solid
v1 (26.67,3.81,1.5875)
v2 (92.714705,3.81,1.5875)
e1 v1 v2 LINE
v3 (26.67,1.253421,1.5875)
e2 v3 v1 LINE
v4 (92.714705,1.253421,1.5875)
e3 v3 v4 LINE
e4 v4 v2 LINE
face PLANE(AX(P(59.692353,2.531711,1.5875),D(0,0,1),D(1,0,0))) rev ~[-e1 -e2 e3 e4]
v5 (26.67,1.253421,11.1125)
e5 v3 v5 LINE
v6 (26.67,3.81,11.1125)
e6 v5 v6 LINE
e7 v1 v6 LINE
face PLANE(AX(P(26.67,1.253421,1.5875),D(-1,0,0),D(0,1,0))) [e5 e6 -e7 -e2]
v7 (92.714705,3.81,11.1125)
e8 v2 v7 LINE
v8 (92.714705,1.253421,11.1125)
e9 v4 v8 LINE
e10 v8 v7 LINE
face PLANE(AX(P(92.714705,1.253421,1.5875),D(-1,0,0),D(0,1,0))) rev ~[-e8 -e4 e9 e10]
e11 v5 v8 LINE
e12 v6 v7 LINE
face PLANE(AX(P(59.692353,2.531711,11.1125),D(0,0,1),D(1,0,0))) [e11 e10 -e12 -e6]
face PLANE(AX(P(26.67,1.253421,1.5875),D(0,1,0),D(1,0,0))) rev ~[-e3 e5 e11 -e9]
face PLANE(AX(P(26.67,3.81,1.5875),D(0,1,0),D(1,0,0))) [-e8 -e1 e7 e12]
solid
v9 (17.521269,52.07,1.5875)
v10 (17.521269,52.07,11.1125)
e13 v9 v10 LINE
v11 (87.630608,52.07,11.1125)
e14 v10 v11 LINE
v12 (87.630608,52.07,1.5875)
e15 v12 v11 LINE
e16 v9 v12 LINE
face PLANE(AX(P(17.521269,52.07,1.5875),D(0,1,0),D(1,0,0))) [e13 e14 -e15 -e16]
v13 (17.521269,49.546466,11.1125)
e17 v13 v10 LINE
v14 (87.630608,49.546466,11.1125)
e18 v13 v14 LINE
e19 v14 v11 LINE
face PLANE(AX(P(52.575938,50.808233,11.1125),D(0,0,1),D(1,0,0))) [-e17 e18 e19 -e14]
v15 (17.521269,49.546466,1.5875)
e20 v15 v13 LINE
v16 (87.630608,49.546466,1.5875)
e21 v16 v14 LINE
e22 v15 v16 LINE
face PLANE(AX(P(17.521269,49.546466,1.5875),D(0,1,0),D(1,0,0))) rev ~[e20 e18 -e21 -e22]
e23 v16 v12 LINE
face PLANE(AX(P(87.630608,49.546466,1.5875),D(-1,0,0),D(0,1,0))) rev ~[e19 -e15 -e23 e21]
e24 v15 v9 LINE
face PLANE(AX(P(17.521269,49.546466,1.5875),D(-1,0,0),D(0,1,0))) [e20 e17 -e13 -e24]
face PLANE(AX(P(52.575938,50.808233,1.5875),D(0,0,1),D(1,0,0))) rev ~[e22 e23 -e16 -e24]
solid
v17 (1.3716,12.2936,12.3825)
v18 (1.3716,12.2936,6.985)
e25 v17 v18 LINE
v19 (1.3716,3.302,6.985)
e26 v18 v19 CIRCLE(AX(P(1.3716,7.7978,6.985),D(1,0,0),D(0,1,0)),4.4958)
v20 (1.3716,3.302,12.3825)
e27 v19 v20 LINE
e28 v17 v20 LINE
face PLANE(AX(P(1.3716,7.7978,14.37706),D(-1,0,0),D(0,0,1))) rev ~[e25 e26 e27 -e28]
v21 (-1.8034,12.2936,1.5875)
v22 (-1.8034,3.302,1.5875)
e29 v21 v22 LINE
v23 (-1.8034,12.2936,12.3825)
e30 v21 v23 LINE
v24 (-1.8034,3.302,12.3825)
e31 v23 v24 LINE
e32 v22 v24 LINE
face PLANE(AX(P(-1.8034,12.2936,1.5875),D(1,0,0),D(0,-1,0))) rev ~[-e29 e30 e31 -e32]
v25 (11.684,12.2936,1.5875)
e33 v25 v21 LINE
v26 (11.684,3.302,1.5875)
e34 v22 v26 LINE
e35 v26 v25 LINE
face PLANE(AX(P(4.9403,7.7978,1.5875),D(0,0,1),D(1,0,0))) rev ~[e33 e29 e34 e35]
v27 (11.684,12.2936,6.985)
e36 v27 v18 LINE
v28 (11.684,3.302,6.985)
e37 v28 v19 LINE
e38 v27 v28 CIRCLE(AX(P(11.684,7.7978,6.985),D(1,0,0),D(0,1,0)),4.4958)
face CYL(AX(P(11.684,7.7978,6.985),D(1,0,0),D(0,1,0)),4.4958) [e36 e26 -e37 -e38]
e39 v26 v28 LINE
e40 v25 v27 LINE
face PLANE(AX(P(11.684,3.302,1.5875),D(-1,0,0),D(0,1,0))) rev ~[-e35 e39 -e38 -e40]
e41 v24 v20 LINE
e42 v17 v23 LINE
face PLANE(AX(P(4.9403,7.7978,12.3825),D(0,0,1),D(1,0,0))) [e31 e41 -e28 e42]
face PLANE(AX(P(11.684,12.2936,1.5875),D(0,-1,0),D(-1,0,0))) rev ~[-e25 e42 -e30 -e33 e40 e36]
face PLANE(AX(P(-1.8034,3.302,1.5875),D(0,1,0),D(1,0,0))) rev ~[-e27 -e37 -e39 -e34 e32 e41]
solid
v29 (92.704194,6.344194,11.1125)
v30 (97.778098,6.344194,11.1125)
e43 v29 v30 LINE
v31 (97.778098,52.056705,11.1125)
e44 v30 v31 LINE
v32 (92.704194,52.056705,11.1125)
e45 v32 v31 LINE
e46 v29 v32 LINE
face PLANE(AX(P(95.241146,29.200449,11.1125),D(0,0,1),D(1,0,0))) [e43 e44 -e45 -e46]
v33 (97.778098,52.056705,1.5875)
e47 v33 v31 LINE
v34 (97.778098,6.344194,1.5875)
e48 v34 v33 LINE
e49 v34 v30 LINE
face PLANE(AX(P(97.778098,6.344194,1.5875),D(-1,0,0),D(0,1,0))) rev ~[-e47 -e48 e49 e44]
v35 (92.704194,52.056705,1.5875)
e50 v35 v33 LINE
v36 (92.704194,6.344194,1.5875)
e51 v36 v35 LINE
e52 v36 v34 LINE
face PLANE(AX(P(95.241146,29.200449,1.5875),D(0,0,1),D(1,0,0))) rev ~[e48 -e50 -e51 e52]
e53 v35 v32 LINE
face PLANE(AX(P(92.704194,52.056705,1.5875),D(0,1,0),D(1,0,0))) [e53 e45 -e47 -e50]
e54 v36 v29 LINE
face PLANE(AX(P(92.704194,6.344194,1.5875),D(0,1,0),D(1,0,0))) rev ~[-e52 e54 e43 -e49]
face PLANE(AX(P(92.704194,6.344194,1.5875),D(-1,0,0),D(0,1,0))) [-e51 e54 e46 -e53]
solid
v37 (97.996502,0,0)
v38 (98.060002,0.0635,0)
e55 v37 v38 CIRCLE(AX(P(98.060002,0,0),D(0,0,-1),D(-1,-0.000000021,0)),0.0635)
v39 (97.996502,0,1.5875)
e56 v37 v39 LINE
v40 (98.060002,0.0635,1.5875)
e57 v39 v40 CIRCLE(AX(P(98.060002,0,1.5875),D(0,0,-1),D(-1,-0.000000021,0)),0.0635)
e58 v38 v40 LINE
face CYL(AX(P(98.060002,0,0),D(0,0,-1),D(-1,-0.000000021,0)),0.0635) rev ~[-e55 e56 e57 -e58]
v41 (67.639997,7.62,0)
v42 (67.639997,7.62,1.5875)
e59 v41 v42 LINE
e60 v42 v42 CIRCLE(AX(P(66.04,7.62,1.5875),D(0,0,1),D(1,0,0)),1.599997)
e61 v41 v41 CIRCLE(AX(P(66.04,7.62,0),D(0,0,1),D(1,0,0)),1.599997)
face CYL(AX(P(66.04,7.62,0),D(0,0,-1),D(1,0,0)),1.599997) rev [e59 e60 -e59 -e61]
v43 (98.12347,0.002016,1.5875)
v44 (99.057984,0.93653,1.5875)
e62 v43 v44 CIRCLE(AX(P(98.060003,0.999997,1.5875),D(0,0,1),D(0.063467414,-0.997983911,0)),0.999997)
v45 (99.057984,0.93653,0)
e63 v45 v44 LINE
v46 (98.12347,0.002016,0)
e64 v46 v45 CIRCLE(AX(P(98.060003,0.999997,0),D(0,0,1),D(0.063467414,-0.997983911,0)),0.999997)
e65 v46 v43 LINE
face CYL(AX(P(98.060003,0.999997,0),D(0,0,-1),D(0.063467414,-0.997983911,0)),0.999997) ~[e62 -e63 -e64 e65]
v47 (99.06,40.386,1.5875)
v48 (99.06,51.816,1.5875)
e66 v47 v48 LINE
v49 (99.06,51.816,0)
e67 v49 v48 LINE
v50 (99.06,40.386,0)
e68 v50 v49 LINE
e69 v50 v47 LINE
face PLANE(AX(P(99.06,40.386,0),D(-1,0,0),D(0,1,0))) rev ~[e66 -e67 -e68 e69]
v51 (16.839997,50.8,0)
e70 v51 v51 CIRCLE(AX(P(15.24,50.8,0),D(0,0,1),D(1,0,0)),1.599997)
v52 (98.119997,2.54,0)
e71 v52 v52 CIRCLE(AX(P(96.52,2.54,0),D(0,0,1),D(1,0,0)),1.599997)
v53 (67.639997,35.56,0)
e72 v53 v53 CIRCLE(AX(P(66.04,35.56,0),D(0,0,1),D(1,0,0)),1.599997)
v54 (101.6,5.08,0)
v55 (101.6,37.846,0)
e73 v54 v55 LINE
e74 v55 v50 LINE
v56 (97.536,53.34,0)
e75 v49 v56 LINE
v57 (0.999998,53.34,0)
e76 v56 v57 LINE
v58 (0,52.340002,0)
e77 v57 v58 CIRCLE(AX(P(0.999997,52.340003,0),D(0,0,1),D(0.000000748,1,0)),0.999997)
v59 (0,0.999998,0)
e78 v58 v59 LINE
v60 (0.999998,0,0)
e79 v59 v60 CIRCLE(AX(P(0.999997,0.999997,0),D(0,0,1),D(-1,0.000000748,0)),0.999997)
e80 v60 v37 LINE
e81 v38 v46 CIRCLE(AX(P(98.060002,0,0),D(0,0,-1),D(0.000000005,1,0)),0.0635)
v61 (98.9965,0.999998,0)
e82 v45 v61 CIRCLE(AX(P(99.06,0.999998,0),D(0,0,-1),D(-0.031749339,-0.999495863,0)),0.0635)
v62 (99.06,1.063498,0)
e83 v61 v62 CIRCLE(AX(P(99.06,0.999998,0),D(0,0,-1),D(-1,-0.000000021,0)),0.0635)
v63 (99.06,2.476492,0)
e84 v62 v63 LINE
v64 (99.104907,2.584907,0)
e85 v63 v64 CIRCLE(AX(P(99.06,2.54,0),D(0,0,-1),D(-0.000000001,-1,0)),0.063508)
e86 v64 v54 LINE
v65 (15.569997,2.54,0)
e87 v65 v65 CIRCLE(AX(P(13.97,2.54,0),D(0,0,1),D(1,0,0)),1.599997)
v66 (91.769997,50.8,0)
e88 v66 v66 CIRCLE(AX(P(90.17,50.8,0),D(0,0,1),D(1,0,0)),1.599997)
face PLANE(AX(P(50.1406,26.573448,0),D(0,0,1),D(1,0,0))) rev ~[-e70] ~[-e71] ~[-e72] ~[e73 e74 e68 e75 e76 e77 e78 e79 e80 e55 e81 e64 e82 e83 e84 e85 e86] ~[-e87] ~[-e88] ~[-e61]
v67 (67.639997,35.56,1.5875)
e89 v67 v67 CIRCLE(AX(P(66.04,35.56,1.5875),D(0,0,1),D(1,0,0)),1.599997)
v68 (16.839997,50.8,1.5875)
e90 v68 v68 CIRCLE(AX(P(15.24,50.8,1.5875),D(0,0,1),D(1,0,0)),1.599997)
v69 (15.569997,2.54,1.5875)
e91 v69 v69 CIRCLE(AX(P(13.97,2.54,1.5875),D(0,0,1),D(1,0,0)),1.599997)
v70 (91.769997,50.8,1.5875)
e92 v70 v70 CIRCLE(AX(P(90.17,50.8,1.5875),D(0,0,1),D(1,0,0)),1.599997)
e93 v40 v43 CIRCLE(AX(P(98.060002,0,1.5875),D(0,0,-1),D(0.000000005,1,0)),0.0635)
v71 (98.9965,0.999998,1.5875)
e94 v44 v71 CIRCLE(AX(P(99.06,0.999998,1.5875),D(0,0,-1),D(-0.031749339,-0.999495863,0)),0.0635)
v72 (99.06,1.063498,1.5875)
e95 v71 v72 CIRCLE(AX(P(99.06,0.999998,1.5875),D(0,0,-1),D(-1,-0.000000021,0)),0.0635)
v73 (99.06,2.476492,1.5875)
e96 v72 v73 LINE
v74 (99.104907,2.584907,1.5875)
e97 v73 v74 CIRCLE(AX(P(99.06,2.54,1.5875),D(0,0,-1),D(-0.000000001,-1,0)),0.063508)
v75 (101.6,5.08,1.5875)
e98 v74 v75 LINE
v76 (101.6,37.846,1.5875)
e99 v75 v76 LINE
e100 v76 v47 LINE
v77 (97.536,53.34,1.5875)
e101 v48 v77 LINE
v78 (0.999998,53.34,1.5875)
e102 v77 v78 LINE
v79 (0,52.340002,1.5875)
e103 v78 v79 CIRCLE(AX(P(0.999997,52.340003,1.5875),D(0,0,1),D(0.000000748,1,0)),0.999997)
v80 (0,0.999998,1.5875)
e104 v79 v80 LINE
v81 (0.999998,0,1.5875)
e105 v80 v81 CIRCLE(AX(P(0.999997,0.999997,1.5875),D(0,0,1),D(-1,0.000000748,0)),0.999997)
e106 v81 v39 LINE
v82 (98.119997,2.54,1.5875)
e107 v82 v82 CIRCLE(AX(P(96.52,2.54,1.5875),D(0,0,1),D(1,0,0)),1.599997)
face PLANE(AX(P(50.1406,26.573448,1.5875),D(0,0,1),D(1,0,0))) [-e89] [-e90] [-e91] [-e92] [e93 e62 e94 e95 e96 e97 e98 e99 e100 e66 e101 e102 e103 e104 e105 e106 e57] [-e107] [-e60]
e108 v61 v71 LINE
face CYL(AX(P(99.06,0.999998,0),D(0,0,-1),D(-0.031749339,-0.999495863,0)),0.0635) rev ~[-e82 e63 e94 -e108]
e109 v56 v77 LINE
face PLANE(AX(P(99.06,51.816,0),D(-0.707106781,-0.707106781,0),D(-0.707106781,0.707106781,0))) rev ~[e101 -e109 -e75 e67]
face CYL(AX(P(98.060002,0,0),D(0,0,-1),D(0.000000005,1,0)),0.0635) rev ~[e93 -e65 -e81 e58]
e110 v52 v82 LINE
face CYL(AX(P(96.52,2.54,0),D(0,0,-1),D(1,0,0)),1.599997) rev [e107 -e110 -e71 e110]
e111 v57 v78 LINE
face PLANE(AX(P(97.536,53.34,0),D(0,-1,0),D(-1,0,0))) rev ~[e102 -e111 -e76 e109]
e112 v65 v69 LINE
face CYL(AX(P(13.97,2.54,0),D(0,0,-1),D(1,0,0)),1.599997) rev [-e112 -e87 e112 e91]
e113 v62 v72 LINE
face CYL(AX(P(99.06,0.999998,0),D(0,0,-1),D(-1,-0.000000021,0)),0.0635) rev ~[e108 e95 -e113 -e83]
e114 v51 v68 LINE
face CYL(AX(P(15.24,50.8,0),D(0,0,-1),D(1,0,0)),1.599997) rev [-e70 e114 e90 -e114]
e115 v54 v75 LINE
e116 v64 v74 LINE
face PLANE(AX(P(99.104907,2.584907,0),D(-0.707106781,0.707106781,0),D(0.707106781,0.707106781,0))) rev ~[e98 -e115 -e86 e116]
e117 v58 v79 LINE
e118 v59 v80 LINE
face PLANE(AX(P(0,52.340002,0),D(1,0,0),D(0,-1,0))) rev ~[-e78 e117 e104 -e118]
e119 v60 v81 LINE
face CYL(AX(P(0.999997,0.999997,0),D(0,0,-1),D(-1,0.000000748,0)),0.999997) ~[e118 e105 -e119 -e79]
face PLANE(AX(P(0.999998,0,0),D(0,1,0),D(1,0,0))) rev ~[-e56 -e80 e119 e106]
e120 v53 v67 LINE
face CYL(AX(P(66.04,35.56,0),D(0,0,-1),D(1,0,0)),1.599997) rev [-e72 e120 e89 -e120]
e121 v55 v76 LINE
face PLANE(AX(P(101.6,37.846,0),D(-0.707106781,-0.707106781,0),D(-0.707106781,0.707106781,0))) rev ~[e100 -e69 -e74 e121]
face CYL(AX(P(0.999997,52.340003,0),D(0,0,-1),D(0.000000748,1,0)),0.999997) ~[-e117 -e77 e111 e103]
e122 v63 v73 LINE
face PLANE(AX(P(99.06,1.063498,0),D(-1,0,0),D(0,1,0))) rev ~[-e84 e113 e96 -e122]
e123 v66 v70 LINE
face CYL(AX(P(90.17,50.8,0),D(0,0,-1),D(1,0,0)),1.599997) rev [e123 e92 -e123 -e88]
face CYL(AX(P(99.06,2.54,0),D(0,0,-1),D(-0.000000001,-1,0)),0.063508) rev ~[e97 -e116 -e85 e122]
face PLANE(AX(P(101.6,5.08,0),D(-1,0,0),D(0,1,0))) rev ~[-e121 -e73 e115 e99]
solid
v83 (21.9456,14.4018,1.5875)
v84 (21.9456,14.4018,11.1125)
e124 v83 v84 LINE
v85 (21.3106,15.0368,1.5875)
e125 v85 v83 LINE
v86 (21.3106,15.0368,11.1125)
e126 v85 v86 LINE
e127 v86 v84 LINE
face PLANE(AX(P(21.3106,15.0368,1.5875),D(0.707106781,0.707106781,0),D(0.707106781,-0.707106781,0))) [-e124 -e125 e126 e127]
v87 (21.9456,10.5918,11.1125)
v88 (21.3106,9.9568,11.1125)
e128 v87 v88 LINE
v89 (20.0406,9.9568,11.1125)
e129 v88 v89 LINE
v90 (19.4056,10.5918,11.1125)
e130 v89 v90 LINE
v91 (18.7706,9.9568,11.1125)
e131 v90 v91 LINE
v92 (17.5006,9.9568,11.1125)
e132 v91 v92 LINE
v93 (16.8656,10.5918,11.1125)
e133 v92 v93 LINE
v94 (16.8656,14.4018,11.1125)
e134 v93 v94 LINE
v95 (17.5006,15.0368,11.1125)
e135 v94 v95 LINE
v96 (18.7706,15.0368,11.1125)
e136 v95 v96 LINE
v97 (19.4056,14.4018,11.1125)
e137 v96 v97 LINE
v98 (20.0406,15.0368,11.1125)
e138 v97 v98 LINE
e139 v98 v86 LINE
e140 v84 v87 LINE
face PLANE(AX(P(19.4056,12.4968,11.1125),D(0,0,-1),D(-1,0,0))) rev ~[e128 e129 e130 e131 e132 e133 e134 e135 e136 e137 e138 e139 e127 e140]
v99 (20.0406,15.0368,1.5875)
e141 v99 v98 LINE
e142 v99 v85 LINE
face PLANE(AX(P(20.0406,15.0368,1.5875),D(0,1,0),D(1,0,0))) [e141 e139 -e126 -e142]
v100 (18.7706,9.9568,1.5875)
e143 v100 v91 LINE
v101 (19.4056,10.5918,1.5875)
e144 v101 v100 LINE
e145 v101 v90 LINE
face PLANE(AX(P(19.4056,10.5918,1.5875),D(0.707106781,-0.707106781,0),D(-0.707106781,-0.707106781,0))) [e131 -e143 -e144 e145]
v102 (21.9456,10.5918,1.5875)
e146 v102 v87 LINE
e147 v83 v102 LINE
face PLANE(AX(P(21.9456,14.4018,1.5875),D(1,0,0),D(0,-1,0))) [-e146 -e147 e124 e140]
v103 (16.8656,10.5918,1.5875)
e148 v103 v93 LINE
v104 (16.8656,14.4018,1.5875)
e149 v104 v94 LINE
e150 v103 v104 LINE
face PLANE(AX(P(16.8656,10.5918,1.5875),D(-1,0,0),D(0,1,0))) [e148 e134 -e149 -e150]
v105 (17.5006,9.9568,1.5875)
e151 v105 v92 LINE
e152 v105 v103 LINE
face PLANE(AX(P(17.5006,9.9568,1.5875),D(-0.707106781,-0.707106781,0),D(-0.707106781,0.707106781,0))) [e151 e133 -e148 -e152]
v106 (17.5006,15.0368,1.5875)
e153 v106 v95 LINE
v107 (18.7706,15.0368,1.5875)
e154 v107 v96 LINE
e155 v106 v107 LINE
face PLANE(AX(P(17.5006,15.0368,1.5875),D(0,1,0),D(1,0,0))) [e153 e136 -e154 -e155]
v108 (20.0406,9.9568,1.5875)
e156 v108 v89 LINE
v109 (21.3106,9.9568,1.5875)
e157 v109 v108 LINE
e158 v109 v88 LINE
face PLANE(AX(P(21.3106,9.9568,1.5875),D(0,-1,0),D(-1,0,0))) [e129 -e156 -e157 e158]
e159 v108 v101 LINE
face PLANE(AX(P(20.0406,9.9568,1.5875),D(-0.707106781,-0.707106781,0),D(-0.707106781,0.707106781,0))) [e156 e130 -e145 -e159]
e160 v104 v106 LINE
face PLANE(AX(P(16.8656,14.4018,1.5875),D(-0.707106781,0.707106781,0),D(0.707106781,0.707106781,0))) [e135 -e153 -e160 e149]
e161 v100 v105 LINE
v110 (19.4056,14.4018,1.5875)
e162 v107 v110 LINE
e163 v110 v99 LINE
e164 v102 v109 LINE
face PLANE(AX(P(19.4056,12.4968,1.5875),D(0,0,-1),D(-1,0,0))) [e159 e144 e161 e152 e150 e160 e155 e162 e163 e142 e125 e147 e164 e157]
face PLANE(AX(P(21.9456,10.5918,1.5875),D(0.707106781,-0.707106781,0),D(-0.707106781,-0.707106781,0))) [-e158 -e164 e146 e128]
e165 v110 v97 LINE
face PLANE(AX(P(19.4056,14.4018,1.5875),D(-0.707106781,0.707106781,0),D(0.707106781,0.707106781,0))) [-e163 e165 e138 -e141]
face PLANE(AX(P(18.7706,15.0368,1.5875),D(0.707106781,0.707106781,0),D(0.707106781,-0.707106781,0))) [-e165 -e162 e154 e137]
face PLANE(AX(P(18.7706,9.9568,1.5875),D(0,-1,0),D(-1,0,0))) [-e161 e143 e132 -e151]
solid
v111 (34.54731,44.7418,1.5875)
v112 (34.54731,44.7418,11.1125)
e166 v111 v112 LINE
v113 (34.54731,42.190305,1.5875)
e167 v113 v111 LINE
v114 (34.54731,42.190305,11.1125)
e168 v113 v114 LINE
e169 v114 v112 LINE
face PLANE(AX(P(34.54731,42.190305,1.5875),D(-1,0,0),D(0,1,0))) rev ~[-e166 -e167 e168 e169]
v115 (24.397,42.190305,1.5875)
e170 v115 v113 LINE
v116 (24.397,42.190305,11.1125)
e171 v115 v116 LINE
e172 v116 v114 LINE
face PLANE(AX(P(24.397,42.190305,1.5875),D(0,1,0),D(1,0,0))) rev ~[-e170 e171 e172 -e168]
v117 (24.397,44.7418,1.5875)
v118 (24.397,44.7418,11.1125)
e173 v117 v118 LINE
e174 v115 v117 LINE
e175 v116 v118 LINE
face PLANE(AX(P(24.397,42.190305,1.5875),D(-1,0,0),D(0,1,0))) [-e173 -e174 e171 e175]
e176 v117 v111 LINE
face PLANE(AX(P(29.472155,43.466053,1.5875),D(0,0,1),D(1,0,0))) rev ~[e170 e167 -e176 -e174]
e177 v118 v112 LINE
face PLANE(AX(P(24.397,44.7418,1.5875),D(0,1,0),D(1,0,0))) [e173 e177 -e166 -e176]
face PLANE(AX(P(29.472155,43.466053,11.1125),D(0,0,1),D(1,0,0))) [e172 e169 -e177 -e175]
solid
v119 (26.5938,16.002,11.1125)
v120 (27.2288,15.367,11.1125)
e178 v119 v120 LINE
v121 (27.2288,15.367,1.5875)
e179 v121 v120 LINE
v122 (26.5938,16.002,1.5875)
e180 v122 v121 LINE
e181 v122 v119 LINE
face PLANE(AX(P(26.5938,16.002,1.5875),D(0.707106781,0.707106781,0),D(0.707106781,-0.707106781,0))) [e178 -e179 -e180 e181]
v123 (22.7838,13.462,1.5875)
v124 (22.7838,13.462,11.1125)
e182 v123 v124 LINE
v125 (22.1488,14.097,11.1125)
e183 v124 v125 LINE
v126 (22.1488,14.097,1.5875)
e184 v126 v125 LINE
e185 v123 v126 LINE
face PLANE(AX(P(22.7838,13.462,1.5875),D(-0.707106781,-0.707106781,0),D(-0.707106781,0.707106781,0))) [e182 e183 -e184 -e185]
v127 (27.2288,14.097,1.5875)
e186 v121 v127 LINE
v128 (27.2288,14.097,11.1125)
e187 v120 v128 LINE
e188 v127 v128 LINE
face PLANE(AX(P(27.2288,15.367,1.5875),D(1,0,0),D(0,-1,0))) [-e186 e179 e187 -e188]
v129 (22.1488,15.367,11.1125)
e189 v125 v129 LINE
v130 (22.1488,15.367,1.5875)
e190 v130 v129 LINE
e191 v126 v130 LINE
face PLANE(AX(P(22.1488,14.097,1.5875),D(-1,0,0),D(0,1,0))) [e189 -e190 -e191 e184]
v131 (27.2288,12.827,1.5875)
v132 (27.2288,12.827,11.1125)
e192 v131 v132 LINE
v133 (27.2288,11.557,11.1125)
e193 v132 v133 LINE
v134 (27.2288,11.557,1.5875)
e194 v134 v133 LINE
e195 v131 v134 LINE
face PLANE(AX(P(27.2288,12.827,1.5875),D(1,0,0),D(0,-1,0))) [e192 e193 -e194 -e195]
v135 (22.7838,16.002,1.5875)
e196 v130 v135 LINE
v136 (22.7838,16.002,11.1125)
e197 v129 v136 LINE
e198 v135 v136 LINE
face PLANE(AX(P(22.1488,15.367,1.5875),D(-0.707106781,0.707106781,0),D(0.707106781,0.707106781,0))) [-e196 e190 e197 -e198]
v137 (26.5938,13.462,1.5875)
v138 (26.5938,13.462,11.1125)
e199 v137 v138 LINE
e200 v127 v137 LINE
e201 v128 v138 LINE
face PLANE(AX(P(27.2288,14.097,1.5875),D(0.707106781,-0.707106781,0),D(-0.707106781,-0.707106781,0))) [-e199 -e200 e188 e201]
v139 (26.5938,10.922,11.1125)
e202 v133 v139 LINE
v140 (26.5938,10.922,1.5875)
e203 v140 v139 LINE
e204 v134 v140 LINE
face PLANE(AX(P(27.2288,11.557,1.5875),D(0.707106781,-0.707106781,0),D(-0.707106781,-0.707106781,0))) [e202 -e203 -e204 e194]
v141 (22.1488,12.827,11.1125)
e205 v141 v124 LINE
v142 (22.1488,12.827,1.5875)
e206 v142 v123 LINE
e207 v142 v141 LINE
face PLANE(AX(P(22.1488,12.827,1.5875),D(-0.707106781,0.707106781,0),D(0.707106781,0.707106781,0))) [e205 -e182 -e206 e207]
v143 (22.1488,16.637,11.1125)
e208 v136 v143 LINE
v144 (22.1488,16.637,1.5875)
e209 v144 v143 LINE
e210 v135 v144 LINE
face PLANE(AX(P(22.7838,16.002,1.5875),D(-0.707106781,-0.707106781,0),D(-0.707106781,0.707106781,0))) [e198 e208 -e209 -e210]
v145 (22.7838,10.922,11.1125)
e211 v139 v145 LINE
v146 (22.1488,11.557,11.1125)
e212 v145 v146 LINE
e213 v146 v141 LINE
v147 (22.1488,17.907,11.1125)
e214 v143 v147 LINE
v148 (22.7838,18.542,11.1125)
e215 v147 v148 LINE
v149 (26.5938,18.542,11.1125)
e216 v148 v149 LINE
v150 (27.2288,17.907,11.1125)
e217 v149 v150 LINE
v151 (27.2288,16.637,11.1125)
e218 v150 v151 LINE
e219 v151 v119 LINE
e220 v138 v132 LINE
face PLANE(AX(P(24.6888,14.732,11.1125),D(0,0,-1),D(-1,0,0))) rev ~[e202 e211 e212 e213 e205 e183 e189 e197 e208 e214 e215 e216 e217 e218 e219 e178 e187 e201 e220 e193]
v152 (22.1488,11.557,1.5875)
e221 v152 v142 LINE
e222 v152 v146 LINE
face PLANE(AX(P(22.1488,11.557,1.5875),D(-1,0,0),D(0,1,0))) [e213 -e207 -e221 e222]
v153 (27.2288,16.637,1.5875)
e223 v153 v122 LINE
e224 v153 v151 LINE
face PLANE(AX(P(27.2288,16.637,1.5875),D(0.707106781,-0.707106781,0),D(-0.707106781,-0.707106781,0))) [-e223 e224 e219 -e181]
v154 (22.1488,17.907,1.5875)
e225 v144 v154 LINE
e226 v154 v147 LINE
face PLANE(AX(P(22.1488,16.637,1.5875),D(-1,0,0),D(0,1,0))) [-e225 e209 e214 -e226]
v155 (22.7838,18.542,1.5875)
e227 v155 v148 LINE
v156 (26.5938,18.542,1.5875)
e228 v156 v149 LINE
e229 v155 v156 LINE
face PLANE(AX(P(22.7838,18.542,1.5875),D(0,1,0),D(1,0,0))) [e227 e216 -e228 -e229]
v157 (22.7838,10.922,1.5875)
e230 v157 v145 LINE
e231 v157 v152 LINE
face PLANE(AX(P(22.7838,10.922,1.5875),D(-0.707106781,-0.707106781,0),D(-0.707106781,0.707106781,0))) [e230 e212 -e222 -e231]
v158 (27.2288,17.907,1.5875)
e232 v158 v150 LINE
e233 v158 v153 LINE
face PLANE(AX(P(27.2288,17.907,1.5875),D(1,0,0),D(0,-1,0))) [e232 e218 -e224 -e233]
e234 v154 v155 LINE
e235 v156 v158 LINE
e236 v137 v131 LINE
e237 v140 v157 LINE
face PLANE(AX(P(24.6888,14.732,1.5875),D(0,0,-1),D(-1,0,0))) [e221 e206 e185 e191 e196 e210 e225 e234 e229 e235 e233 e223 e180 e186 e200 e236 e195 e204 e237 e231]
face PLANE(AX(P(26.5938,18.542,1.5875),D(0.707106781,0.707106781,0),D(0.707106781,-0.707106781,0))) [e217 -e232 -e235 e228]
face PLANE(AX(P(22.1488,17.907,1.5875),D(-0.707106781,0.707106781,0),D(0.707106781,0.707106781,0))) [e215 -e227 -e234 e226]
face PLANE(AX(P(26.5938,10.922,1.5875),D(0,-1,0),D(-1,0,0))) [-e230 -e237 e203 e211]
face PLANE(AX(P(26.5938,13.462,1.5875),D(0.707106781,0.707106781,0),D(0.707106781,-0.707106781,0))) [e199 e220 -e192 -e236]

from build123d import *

# Parameters (mm, degrees)
SKETCH_20_R           = 1.5999968
BOSS_EXTRUDE1_DEPTH   = 1.5875
BOSS_EXTRUDE3_START   = 1.5875
SKETCH_21_W           = 5.073903667
SKETCH_21_H           = 45.712510943
BOSS_EXTRUDE3_DEPTH   = 9.525
BOSS_EXTRUDE3_2_DEPTH = 9.525
BOSS_EXTRUDE3_3_DEPTH = 9.525
SKETCH_21_W_2         = 10.150310815
SKETCH_21_H_2         = 2.551495436
BOSS_EXTRUDE3_4_DEPTH = 9.525
SKETCH_21_W_3         = 70.109338124
SKETCH_21_H_3         = 2.523533961
BOSS_EXTRUDE3_5_DEPTH = 9.525
SKETCH_21_W_4         = 66.044705072
SKETCH_21_H_4         = 2.556578821
BOSS_EXTRUDE3_6_DEPTH = 9.525
BOSS_EXTRUDE6_START   = 1.5875
BOSS_EXTRUDE6_DEPTH   = 10.795
CUT_EXTRUDE4_DEPTH    = 10.3124


with BuildPart() as part:
    # 20 → Boss-Extrude1 (new body)
    with BuildSketch(Plane.XY):
        with BuildLine():
            Line((99.06, 51.816), (97.536, 53.34))
            Line((97.536, 53.34), (0.999998, 53.34))
            ThreePointArc((0.999998, 53.34), (0.292892414, 53.047107586), (0, 52.340002))
            Line((0, 52.340002), (0, 0.999998))
            ThreePointArc((0, 0.999998), (0.292892414, 0.292892414), (0.999998, 0))
            Line((0.999998, 0), (97.996502, 0))
            ThreePointArc((97.996502, 0), (98.015100719, 0.044901281), (98.060002, 0.0635))
            ThreePointArc((98.060002, 0.0635), (98.104184738, 0.045608504), (98.123469987, 0.002016083))
            ThreePointArc((98.123469987, 0.002016083), (98.767107586, 0.292892414), (99.057983917, 0.936530013))
            ThreePointArc((99.057983917, 0.936530013), (99.014391496, 0.955815262), (98.9965, 0.999998))
            ThreePointArc((98.9965, 0.999998), (99.015098719, 1.044899281), (99.06, 1.063498))
            Line((99.06, 1.063498), (99.06, 2.476491629))
            ThreePointArc((99.06, 2.476491629), (99.001325916, 2.564303602), (99.1049072, 2.5849072))
            Line((99.1049072, 2.5849072), (101.555098719, 5.035098719))
            Line((101.555098719, 5.035098719), (101.6, 5.08))
            Line((101.6, 5.08), (101.6, 5.1435))
            Line((101.6, 5.1435), (101.6, 37.846))
            Line((101.6, 37.846), (99.06, 40.386))
            Line((99.06, 40.386), (99.06, 51.816))
        make_face()
        with Locations((13.97, 2.54)):
            Circle(SKETCH_20_R, mode=Mode.SUBTRACT)
        with Locations((66.04, 7.62)):
            Circle(SKETCH_20_R, mode=Mode.SUBTRACT)
        with Locations((96.52, 2.54)):
            Circle(SKETCH_20_R, mode=Mode.SUBTRACT)
        with Locations((15.24, 50.8)):
            Circle(SKETCH_20_R, mode=Mode.SUBTRACT)
        with Locations((66.04, 35.56)):
            Circle(SKETCH_20_R, mode=Mode.SUBTRACT)
        with Locations((90.17, 50.8)):
            Circle(SKETCH_20_R, mode=Mode.SUBTRACT)
    extrude(amount=BOSS_EXTRUDE1_DEPTH)


with BuildPart() as body_2:
    # 21 → Boss-Extrude3 (new body)
    with BuildSketch(Plane.XY.offset(BOSS_EXTRUDE3_START)):
        with Locations((95.241145717, 29.200449355)):
            Rectangle(SKETCH_21_W, SKETCH_21_H)
    extrude(amount=BOSS_EXTRUDE3_DEPTH)


with BuildPart() as body_3:
    # 21 → Boss-Extrude3 2 (new body)
    with BuildSketch(Plane.XY.offset(BOSS_EXTRUDE3_START)):
        Polygon((22.7838, 10.922), (22.1488, 11.557), (22.1488, 12.827), (22.7838, 13.462), (22.1488, 14.097), (22.1488, 15.367), (22.7838, 16.002), (22.1488, 16.637), (22.1488, 17.907), (22.7838, 18.542), (26.5938, 18.542), (27.2288, 17.907), (27.2288, 16.637), (26.5938, 16.002), (27.2288, 15.367), (27.2288, 14.097), (26.5938, 13.462), (27.2288, 12.827), (27.2288, 11.557), (26.5938, 10.922), align=None)
    extrude(amount=BOSS_EXTRUDE3_2_DEPTH)


with BuildPart() as body_4:
    # 21 → Boss-Extrude3 3 (new body)
    with BuildSketch(Plane.XY.offset(BOSS_EXTRUDE3_START)):
        Polygon((20.0406, 9.9568), (19.4056, 10.5918), (18.7706, 9.9568), (17.5006, 9.9568), (16.8656, 10.5918), (16.8656, 14.4018), (17.5006, 15.0368), (18.7706, 15.0368), (19.4056, 14.4018), (20.0406, 15.0368), (21.3106, 15.0368), (21.9456, 14.4018), (21.9456, 10.5918), (21.3106, 9.9568), align=None)
    extrude(amount=BOSS_EXTRUDE3_3_DEPTH)


with BuildPart() as body_5:
    # 21 → Boss-Extrude3 4 (new body)
    with BuildSketch(Plane.XY.offset(BOSS_EXTRUDE3_START)):
        with Locations((29.472154972, 43.466052718)):
            Rectangle(SKETCH_21_W_2, SKETCH_21_H_2)
    extrude(amount=BOSS_EXTRUDE3_4_DEPTH)


with BuildPart() as body_6:
    # 21 → Boss-Extrude3 5 (new body)
    with BuildSketch(Plane.XY.offset(BOSS_EXTRUDE3_START)):
        with Locations((52.575938469, 50.80823302)):
            Rectangle(SKETCH_21_W_3, SKETCH_21_H_3)
    extrude(amount=BOSS_EXTRUDE3_5_DEPTH)


with BuildPart() as body_7:
    # 21 → Boss-Extrude3 6 (new body)
    with BuildSketch(Plane.XY.offset(BOSS_EXTRUDE3_START)):
        with Locations((59.692352536, 2.53171059)):
            Rectangle(SKETCH_21_W_4, SKETCH_21_H_4)
    extrude(amount=BOSS_EXTRUDE3_6_DEPTH)


with BuildPart() as body_8:
    # 21<6> → Boss-Extrude6 (new body)
    with BuildSketch(Plane.XY.offset(BOSS_EXTRUDE6_START)):
        Polygon((-1.8034, 12.2936), (-1.8034, 3.302), (5.969, 3.302), (11.3665, 3.302), (11.684, 3.302), (11.684, 5.5245), (11.684, 10.922), (11.684, 12.2936), (1.6764, 12.2936), align=None)
    extrude(amount=BOSS_EXTRUDE6_DEPTH)

    # Sketch4 → Cut-Extrude4 (cut)
    with BuildSketch(Plane(origin=(11.684, 0, 0), x_dir=(0, 0, -1), z_dir=(1, 0, 0))):
        with BuildLine():
            Line((-6.985, 3.302), (-21.694212729, 3.302))
            Line((-21.694212729, 3.302), (-21.694212729, 12.2936))
            Line((-21.694212729, 12.2936), (-6.985, 12.2936))
            ThreePointArc((-6.985, 12.2936), (-11.4808, 7.7978), (-6.985, 3.302))
        make_face()
    extrude(amount=-CUT_EXTRUDE4_DEPTH, mode=Mode.SUBTRACT)


solid = Compound([part.part, body_2.part, body_3.part, body_4.part, body_5.part, body_6.part, body_7.part, body_8.part])
